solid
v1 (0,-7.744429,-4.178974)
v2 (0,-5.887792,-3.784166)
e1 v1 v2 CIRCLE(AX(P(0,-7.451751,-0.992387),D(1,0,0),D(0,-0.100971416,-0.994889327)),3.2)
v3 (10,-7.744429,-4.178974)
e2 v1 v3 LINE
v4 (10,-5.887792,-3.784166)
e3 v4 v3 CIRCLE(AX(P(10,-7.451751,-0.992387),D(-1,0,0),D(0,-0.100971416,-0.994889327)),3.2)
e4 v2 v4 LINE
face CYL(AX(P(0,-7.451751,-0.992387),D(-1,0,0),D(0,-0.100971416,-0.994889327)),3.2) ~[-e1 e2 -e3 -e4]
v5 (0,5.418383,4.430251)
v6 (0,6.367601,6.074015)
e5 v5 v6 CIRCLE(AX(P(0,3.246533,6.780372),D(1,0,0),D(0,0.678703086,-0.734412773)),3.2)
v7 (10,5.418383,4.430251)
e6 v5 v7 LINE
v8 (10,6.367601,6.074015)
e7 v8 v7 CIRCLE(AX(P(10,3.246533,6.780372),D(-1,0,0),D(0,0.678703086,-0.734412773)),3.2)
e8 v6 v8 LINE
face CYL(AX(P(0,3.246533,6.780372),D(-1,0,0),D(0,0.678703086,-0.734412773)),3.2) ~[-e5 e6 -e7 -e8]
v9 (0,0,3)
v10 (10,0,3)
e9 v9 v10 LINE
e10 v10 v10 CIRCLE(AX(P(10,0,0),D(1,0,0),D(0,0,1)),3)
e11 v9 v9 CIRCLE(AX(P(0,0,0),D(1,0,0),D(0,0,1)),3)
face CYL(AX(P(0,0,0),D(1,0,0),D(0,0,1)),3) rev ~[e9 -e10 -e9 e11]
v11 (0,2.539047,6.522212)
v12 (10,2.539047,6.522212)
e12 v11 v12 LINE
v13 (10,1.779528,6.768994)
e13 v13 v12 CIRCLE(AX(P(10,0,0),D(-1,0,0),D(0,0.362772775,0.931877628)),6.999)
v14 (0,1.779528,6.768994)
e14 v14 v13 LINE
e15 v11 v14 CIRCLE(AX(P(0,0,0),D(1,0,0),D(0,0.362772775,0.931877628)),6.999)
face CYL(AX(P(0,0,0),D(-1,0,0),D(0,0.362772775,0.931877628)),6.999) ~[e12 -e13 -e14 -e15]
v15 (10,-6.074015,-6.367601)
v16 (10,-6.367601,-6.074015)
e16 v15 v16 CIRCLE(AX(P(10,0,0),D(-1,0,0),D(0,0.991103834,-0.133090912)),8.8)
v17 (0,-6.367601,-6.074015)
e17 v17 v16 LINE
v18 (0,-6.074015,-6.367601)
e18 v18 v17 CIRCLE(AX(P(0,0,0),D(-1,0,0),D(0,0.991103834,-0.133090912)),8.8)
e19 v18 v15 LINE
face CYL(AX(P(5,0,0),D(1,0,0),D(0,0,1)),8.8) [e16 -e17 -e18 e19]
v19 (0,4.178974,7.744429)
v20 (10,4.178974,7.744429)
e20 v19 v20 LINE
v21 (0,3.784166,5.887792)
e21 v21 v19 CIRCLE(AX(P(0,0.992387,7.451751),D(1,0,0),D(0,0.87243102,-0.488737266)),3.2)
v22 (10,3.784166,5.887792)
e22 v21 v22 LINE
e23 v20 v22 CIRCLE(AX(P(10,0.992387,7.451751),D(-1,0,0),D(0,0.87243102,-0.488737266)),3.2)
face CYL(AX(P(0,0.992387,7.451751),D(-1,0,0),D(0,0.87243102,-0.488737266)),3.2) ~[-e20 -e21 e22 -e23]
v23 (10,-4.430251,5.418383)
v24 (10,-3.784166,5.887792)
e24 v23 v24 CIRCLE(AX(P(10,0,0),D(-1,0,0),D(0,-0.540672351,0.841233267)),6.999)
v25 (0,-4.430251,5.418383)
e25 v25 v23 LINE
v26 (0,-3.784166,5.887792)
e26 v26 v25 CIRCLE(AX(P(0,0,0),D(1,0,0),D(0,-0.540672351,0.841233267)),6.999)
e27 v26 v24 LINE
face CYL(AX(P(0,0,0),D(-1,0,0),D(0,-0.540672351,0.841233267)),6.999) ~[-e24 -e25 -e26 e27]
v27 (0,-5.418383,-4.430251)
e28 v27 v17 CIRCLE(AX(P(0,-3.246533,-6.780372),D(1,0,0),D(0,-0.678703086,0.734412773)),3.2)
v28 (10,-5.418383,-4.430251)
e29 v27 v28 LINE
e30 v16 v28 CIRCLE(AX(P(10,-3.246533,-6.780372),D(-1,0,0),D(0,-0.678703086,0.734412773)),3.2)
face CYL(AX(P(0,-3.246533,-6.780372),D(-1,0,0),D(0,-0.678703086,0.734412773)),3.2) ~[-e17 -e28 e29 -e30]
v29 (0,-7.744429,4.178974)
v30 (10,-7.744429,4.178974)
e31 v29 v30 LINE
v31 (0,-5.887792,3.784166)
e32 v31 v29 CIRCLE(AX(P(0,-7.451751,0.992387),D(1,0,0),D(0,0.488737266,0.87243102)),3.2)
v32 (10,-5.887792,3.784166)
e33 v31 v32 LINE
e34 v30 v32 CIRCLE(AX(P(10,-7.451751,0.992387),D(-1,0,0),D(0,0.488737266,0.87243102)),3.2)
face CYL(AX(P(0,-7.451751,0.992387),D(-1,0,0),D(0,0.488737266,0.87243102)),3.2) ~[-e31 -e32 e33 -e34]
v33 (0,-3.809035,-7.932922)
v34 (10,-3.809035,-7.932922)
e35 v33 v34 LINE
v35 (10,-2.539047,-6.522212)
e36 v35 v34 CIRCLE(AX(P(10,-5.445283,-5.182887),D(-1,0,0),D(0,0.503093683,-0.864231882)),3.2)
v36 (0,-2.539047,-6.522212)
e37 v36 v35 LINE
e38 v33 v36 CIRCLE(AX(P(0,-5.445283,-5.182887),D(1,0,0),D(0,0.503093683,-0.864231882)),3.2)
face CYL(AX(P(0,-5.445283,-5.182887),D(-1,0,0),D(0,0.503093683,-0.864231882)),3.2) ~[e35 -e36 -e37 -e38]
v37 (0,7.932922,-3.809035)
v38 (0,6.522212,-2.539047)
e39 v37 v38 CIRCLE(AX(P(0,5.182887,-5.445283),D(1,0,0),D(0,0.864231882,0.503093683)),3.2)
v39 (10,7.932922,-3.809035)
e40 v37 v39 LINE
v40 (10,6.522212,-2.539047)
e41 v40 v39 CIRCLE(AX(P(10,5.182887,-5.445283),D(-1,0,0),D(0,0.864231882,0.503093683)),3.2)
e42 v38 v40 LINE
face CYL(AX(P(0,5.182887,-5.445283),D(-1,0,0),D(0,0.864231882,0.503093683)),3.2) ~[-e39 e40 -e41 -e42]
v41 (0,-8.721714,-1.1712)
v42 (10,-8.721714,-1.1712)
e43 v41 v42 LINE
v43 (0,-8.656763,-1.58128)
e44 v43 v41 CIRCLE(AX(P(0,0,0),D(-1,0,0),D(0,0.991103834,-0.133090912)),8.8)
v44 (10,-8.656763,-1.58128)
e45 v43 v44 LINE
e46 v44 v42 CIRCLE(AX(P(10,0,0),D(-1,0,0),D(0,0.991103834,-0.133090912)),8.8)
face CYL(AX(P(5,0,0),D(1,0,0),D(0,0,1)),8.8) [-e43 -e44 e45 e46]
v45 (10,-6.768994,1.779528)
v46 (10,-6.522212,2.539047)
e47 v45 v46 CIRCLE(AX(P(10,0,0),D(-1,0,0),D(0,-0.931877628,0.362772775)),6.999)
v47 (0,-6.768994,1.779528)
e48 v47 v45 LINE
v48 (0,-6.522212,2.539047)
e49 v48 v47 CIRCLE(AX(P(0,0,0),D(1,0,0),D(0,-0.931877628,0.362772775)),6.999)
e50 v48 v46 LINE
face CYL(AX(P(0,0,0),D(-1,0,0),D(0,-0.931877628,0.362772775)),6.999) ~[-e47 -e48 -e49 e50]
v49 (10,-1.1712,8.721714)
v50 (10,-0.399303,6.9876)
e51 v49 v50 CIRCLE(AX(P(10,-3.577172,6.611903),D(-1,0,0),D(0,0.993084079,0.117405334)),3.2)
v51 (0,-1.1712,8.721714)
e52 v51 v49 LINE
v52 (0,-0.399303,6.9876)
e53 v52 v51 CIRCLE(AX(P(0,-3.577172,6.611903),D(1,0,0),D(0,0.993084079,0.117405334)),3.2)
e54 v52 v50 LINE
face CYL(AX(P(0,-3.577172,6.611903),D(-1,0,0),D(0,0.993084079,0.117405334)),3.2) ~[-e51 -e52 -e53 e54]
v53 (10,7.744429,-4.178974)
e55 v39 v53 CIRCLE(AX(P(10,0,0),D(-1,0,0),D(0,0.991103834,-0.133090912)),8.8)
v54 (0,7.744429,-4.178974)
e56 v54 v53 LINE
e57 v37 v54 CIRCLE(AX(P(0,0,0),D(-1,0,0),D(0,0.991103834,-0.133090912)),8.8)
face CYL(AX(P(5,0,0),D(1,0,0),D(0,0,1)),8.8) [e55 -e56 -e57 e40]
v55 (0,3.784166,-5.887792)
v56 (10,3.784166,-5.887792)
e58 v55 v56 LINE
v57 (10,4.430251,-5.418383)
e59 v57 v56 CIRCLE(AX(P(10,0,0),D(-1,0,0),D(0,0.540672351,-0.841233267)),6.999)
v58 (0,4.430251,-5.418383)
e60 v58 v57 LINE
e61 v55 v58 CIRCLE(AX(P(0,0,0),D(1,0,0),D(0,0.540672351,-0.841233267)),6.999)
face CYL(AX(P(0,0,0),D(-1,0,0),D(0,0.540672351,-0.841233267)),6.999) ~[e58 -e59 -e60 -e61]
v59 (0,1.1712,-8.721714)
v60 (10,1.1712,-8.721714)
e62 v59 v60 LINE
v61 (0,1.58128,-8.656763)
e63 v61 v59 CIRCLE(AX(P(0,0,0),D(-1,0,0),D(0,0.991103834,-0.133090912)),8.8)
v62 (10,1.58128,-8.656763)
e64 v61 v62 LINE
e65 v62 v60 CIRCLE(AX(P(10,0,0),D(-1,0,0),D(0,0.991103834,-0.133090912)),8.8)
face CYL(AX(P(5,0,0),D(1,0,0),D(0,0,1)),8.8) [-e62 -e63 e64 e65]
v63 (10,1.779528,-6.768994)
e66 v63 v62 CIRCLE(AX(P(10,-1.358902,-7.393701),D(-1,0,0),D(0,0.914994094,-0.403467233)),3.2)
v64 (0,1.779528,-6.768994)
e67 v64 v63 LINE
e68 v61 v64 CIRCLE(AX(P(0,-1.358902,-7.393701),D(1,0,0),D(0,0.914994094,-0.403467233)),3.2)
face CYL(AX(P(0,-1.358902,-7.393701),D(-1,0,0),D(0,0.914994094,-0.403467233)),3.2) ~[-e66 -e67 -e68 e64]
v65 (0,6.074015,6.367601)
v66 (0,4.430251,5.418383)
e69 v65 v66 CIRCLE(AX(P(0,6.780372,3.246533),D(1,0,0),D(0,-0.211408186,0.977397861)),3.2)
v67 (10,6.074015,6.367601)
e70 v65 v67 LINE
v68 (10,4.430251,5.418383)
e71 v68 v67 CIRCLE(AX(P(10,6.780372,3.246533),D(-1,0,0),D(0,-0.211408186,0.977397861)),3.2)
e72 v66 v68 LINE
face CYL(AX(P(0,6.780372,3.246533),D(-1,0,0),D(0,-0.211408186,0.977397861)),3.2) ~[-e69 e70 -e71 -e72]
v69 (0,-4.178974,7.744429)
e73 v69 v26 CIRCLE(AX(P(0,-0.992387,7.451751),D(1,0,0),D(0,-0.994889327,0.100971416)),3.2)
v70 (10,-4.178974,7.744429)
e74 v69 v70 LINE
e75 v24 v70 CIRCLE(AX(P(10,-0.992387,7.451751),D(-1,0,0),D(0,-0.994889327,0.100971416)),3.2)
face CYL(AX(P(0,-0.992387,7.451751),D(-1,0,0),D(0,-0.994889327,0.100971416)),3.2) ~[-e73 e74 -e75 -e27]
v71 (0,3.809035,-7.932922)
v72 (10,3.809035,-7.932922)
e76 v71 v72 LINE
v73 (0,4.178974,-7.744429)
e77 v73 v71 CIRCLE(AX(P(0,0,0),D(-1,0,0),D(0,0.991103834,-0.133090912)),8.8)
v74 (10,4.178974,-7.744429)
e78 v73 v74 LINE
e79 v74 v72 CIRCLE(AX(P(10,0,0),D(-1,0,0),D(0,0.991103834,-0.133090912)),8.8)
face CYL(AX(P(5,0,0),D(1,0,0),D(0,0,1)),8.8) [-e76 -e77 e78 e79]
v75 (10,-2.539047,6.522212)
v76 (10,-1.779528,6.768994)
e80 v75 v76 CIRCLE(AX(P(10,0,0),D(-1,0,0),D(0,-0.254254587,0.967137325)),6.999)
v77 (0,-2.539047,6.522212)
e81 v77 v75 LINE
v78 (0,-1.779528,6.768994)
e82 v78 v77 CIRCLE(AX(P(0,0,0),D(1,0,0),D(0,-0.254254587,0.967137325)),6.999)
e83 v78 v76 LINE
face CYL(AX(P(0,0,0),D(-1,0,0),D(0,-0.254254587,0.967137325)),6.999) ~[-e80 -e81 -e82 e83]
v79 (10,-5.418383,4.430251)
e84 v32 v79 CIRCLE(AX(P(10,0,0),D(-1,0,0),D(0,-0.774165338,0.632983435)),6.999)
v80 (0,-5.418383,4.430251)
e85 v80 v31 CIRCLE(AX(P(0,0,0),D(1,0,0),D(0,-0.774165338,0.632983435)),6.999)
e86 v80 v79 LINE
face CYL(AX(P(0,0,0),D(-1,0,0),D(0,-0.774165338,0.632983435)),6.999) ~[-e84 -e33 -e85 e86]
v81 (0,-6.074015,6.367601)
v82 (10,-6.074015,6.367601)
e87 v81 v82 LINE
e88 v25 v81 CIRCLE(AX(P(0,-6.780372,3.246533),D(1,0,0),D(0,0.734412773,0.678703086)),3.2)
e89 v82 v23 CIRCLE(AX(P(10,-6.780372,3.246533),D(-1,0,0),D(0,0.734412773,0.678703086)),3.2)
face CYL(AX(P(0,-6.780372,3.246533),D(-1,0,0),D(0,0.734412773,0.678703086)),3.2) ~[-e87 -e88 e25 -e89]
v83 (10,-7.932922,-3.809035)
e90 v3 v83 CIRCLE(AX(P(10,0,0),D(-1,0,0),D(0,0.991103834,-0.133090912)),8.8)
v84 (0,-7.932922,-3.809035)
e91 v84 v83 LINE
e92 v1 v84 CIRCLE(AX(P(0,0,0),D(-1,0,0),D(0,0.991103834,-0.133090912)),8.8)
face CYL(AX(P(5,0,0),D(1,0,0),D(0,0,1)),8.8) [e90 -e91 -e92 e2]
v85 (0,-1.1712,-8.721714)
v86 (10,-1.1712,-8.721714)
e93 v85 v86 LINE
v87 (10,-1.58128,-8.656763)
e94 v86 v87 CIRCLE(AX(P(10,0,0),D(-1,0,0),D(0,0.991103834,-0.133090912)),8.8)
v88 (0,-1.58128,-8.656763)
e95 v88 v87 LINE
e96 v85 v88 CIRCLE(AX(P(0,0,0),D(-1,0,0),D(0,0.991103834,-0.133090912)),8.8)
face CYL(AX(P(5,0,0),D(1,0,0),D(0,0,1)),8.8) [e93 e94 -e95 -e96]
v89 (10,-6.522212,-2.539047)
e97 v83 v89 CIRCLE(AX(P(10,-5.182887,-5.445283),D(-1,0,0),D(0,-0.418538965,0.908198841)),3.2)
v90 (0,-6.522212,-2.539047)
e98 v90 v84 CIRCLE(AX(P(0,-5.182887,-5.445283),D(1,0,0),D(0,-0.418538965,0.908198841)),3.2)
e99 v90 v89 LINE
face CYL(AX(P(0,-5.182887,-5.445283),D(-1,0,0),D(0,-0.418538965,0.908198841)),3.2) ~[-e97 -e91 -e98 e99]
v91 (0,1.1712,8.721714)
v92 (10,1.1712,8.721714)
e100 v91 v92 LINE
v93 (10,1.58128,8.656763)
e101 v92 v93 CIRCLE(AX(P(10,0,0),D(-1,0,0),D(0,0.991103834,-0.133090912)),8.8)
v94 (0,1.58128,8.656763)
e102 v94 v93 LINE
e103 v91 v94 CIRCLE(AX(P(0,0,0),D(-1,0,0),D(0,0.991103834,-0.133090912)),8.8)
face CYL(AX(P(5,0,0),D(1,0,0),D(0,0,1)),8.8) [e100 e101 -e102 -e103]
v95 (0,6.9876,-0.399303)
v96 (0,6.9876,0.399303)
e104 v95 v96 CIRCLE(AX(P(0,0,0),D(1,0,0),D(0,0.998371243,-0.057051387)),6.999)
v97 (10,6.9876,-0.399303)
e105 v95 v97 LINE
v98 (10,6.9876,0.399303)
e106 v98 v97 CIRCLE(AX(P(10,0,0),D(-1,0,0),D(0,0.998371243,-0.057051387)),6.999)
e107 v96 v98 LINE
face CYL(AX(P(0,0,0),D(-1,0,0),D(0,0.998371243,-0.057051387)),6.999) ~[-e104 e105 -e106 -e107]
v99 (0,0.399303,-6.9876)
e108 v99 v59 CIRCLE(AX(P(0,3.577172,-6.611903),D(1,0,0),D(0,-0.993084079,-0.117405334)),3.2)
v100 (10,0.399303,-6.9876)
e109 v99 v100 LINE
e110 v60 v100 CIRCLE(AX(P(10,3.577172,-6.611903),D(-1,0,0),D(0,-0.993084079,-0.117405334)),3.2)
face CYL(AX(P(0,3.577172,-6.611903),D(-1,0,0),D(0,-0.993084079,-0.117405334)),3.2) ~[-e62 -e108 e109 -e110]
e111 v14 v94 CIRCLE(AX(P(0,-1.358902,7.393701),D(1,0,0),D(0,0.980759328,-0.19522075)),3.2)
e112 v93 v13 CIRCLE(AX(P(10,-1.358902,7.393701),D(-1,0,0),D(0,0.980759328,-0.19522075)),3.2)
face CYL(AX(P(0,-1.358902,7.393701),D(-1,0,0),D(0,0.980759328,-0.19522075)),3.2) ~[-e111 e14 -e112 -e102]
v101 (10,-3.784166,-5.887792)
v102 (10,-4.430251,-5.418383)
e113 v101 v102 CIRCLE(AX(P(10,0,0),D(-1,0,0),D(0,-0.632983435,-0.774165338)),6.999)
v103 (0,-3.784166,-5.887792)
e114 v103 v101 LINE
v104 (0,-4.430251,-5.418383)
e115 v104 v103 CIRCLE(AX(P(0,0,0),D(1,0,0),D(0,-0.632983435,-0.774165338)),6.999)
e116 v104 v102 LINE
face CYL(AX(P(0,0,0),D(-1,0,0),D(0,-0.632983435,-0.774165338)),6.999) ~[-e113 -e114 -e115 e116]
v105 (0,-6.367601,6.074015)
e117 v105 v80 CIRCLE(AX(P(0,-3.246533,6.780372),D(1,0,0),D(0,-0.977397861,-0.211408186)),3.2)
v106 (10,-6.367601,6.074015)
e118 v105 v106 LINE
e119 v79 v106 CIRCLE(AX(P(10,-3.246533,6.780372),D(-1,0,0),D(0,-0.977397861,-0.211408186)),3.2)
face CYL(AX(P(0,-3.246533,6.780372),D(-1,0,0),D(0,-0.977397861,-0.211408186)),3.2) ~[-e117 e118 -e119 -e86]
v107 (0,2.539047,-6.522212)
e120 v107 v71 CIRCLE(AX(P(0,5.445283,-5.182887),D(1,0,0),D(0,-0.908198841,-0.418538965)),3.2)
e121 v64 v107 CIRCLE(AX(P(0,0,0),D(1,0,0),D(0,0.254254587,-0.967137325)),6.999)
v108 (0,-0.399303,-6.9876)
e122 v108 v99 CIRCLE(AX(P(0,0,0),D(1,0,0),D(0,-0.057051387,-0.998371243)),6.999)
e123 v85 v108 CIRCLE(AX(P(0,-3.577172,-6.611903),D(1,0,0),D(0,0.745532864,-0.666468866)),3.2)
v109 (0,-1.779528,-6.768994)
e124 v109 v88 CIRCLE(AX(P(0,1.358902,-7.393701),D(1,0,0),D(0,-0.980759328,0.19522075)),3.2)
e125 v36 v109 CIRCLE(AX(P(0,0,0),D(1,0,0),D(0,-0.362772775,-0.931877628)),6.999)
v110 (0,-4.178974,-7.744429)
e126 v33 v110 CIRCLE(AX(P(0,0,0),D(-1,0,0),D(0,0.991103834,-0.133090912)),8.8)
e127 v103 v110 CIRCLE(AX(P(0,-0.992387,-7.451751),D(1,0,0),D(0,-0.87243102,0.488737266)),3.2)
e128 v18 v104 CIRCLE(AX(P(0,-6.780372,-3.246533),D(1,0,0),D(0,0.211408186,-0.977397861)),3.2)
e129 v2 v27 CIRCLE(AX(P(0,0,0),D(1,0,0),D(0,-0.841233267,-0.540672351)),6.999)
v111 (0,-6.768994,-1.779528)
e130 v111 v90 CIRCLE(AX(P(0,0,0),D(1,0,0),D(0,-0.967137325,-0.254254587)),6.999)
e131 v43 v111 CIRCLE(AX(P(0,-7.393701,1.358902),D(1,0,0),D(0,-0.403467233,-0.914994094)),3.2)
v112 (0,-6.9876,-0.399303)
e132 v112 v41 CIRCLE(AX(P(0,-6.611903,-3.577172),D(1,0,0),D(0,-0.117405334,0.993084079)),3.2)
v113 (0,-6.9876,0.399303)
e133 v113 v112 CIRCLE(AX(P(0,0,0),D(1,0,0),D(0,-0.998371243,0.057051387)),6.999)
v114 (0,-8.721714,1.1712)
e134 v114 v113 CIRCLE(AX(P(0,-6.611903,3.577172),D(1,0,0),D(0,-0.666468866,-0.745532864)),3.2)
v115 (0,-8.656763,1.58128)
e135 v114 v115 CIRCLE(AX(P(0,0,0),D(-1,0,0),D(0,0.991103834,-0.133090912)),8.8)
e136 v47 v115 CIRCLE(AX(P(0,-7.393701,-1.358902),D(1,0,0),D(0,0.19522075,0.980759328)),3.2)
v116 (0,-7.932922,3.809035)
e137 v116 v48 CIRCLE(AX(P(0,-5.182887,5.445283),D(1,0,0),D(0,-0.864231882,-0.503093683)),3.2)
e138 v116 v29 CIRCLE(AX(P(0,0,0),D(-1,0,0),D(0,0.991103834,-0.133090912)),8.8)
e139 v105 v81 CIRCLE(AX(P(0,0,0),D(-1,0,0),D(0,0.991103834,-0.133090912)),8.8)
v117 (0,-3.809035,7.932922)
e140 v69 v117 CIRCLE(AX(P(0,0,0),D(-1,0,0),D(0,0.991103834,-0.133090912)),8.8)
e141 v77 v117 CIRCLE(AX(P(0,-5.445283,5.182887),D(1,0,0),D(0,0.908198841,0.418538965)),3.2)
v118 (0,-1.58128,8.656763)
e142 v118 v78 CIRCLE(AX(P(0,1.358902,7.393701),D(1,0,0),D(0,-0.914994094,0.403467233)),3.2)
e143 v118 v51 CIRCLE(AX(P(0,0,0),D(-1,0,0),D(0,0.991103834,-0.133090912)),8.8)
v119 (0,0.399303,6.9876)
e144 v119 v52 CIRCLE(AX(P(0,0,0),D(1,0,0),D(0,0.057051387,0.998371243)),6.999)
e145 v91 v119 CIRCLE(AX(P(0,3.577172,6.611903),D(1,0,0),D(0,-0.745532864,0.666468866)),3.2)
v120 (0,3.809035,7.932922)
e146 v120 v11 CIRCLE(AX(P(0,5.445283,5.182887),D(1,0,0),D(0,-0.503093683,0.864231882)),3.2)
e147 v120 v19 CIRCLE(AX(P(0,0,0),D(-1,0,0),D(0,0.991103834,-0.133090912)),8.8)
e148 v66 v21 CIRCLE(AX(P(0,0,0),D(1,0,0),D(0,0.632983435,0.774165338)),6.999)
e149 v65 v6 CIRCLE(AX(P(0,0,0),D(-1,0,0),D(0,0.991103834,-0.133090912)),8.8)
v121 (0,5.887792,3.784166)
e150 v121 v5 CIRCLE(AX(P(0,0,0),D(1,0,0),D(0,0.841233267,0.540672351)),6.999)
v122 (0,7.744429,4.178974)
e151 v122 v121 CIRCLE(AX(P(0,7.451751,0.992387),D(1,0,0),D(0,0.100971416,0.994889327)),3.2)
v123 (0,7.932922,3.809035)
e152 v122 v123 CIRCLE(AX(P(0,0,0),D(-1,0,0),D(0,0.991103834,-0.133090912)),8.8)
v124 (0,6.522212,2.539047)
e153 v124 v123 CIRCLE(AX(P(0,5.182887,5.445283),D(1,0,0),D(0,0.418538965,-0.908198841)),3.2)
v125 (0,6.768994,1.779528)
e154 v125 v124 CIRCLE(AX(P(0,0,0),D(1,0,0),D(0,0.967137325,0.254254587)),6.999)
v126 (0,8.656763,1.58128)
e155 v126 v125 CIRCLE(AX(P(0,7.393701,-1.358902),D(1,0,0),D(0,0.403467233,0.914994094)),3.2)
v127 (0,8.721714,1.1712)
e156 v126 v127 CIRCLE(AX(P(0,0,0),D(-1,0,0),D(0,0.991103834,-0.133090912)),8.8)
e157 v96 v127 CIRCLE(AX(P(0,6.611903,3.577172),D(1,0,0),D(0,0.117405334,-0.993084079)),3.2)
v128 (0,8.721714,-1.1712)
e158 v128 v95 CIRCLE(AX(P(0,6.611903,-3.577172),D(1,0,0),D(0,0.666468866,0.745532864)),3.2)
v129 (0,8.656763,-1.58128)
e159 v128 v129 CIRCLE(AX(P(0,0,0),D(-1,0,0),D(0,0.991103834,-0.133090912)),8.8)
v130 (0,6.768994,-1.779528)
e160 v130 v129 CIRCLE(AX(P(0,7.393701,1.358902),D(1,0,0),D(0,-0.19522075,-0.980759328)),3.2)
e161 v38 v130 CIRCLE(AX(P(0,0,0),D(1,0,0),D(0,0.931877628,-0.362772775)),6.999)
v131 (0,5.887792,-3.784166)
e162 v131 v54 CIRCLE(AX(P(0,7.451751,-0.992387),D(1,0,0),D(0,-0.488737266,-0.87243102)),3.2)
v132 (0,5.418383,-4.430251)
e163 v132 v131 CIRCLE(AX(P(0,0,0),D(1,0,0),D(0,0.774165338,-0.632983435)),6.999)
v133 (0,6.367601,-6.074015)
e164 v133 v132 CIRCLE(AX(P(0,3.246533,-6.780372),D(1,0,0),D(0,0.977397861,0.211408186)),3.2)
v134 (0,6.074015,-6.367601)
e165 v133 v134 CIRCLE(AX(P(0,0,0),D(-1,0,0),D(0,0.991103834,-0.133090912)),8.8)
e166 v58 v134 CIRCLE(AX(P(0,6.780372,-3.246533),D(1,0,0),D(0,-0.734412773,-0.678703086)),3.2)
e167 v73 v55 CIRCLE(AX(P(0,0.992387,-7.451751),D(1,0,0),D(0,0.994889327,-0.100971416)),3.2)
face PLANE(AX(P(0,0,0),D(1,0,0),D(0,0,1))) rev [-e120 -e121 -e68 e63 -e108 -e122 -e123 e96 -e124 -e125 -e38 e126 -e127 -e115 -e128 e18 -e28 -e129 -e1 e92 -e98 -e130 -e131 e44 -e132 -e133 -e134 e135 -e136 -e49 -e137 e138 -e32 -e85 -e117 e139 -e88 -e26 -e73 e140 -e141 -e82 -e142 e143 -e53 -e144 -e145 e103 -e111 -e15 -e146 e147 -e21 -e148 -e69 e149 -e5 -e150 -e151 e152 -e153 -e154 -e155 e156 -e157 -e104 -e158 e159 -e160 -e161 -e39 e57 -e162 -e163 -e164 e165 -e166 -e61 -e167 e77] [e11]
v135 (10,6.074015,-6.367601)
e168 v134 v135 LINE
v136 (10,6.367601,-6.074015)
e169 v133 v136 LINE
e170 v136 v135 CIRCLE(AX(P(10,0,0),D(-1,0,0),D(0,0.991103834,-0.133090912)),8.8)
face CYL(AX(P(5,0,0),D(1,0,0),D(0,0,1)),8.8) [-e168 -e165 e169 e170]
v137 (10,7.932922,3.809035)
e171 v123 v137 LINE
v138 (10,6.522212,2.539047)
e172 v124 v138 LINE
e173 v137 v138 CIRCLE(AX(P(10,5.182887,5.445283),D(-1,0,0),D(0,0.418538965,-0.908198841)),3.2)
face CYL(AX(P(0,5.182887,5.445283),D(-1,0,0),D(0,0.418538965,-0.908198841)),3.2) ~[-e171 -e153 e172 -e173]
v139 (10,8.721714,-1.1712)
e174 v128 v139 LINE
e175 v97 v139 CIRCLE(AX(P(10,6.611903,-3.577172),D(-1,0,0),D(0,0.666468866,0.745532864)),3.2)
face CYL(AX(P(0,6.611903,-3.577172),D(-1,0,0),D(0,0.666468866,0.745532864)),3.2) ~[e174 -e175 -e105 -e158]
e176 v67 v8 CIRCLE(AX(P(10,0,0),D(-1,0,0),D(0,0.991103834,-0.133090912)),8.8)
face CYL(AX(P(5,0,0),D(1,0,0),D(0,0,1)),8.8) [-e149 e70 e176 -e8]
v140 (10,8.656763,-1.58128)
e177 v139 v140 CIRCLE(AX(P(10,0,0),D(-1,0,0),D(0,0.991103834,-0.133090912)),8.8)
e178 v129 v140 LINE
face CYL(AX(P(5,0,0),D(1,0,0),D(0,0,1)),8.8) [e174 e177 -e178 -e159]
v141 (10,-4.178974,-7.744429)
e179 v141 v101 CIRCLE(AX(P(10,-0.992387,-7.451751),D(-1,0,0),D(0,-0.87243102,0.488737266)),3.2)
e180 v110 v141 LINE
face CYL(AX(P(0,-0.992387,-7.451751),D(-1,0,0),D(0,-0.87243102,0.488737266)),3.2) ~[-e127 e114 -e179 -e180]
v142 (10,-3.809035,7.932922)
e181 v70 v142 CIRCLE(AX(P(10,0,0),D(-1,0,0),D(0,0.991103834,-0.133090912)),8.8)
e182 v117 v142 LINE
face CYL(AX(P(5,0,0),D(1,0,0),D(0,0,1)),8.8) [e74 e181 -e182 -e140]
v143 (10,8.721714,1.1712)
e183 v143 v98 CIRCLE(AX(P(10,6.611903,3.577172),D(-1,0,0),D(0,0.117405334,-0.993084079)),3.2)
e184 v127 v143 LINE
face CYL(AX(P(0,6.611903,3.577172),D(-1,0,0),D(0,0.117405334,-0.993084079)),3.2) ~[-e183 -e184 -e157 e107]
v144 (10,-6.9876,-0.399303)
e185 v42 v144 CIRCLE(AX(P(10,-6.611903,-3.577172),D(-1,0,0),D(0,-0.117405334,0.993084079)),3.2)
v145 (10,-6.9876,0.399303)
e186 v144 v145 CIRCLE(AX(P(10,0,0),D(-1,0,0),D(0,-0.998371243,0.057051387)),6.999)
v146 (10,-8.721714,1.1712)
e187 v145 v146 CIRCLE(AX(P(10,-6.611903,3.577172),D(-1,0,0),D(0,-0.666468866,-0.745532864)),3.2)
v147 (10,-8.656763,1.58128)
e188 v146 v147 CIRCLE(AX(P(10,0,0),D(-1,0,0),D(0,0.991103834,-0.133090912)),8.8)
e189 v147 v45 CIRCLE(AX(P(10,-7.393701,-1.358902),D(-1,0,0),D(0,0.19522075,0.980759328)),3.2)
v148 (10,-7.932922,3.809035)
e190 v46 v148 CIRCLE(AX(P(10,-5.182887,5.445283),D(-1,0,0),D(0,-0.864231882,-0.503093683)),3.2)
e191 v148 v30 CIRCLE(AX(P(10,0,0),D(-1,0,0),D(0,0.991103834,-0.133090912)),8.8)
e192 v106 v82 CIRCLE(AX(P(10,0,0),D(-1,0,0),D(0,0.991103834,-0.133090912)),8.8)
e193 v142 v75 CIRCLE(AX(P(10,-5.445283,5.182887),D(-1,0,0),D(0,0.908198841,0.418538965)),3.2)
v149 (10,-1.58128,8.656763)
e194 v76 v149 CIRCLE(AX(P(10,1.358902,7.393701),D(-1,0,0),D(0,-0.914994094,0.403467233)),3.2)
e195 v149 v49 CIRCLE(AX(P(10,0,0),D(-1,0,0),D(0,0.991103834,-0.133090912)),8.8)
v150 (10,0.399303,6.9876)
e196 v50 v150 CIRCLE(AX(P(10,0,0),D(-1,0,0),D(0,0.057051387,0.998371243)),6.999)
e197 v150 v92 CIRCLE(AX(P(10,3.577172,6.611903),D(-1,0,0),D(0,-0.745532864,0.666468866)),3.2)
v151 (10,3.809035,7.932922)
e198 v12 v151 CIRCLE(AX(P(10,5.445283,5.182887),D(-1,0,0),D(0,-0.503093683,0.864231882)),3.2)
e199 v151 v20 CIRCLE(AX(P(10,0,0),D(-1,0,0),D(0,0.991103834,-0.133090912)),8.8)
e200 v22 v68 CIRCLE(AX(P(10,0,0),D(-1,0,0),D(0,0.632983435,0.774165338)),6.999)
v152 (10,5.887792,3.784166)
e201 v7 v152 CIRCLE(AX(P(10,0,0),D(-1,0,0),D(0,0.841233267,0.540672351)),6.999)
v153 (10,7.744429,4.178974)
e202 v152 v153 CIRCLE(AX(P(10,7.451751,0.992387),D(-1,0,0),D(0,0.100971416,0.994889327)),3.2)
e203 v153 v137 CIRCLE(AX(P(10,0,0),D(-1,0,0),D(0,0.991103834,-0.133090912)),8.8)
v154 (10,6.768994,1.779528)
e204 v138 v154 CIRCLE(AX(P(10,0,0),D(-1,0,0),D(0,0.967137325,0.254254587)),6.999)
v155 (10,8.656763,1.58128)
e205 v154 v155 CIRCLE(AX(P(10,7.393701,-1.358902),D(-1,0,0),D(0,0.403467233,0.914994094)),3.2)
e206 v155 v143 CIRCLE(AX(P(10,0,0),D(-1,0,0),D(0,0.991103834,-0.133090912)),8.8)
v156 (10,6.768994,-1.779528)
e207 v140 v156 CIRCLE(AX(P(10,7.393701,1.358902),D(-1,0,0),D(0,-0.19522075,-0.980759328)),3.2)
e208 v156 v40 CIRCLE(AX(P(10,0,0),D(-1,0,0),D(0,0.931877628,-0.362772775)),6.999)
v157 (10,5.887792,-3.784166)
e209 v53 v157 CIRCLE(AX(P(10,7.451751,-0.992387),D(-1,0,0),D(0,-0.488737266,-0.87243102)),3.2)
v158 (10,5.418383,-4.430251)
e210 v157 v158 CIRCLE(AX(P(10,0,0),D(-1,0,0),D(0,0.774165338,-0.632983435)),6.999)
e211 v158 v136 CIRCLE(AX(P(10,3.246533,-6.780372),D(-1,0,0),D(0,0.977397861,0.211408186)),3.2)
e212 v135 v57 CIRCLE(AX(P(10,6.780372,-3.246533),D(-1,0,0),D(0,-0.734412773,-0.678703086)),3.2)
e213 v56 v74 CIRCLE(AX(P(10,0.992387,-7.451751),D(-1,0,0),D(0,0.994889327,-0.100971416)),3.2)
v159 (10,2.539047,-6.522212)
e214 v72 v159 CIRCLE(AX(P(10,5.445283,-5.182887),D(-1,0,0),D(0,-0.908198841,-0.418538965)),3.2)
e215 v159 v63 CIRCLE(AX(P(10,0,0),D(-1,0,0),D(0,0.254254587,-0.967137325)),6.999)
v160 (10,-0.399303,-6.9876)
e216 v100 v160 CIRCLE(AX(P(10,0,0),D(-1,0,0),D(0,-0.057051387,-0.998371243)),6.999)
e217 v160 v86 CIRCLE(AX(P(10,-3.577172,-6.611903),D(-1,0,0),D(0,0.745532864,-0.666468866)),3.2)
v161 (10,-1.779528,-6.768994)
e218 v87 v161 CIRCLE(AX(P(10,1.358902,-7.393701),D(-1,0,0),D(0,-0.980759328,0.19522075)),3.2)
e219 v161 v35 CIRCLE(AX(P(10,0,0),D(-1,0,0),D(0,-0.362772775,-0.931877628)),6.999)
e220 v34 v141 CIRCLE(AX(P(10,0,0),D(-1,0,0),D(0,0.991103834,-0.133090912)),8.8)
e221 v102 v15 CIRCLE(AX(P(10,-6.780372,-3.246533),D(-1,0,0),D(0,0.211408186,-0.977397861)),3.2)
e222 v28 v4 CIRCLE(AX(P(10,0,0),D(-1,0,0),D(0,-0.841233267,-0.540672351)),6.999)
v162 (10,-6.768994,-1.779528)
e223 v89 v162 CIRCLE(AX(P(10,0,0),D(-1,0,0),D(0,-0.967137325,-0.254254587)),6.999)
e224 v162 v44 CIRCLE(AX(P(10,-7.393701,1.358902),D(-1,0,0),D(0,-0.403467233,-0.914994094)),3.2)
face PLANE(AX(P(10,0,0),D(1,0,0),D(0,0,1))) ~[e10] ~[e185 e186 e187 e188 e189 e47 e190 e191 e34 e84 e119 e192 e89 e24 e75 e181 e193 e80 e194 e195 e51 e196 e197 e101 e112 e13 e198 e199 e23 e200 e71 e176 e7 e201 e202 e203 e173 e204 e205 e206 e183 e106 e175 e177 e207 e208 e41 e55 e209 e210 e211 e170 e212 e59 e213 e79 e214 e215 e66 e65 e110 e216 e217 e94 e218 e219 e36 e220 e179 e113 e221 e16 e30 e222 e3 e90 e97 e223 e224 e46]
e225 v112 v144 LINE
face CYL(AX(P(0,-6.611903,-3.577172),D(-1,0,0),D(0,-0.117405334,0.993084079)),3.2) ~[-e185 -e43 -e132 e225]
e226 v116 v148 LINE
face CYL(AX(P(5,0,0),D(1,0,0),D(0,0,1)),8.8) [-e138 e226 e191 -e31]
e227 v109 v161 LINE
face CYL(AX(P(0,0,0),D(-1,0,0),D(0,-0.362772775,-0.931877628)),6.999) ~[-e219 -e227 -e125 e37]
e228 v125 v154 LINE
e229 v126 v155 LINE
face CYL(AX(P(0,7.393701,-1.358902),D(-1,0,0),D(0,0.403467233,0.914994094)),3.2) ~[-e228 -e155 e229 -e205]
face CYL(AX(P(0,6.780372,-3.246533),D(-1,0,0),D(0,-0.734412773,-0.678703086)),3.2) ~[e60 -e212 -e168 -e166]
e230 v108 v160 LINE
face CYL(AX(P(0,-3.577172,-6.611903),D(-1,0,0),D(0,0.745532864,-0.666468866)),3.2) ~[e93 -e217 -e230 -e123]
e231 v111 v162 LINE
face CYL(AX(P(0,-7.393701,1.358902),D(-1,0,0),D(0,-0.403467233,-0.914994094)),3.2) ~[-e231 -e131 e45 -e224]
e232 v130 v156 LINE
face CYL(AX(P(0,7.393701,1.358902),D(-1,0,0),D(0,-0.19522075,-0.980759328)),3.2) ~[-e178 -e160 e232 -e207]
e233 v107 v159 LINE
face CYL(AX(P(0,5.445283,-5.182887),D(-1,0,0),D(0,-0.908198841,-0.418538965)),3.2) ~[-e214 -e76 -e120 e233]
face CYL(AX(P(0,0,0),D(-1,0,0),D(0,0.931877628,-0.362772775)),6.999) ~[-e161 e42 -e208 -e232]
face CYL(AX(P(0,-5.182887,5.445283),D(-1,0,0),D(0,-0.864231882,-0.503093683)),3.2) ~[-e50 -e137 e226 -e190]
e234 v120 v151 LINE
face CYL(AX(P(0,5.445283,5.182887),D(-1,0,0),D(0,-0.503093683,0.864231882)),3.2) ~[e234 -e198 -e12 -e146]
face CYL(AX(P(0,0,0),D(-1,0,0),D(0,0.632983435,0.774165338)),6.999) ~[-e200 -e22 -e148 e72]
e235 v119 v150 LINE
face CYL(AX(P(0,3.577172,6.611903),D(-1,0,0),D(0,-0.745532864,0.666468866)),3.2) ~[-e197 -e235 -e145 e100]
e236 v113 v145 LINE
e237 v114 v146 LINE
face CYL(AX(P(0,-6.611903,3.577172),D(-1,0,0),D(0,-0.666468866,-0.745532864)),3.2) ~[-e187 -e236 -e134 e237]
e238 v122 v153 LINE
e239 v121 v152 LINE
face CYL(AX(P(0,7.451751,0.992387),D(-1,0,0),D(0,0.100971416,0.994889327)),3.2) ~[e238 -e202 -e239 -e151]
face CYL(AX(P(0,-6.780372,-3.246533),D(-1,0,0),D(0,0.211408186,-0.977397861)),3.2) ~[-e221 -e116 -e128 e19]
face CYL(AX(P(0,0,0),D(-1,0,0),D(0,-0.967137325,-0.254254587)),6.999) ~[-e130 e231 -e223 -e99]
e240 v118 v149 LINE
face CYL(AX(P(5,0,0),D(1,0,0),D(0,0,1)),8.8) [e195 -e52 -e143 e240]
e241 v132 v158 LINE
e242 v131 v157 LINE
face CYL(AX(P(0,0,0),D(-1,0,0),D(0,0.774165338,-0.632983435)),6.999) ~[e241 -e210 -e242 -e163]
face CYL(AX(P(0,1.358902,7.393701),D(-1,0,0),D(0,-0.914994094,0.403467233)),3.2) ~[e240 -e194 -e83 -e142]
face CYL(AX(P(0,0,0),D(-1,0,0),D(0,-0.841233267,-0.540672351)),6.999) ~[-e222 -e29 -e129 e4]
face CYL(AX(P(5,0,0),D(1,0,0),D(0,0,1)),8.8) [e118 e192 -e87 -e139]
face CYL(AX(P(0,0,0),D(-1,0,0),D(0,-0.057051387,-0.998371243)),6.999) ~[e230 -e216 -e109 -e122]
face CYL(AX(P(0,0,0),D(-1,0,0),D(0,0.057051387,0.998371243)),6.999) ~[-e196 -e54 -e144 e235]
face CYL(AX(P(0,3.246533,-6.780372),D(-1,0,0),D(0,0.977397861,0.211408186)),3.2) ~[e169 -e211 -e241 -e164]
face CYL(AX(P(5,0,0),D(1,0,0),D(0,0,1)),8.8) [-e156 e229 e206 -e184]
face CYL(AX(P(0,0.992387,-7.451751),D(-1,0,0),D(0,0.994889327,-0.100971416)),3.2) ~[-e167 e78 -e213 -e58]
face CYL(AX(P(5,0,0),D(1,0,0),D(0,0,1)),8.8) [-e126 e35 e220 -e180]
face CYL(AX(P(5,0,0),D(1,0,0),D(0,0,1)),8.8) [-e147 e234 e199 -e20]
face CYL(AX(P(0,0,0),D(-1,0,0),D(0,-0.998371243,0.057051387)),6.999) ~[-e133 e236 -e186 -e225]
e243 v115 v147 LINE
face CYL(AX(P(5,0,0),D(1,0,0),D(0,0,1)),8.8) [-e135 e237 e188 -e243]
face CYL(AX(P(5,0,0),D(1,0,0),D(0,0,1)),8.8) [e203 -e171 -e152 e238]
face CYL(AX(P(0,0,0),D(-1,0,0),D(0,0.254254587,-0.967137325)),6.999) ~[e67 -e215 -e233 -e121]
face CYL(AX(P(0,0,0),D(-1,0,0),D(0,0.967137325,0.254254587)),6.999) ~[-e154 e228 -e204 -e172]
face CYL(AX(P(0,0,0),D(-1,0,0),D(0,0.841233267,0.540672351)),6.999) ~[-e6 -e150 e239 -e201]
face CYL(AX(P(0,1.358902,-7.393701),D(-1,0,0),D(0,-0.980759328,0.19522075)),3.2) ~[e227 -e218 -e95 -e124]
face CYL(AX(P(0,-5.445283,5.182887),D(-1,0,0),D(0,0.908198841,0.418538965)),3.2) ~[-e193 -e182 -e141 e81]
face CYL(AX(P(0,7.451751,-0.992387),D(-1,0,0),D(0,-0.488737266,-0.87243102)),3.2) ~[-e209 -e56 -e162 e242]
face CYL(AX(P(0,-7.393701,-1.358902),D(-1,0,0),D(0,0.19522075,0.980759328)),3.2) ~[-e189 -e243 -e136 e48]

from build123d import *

# Parameters (mm, degrees)
BASPROSKE_W     = 10
BASPROSKE_H     = 8.8
TOOTHCUT_DEPTH  = 16.964961635
TEETHCUTS_COUNT = 20
TEETHCUTS_ANGLE = 342
BORSKE_R        = 3
BORE_DEPTH      = 50.0000508


with BuildPart() as part:
    # BasProSke → Base-Revolve (revolve)
    with BuildSketch(Plane(origin=(0, 0, 0), x_dir=(1, 0, 0), z_dir=(0, 1, 0)), mode=Mode.PRIVATE) as base_revolve_sk:
        with Locations((5, 4.4)):
            Rectangle(BASPROSKE_W, BASPROSKE_H)
    revolve(base_revolve_sk.sketch.rotate(Axis((-10, 0, 0), (1, 0, 0)), 180), axis=Axis((-10, 0, 0), (1, 0, 0)))

    # TooCutSke → ToothCut (cut, through all)
    with BuildSketch(Plane(origin=(0, 0, 0), x_dir=(0, 0, -1), z_dir=(1, 0, 0))):
        with BuildLine():
            ThreePointArc((0.39930266, 6.987600331), (0, 6.999), (-0.39930266, 6.987600331))
            ThreePointArc((-0.39930266, 6.987600331), (-0.659963343, 7.927158116), (-1.191466546, 8.744603629))
            ThreePointArc((-1.191466546, 8.744603629), (0, 8.8254), (1.191466546, 8.744603629))
            ThreePointArc((1.191466546, 8.744603629), (0.659963343, 7.927158116), (0.39930266, 6.987600331))
        make_face()
    toothcut = extrude(amount=TOOTHCUT_DEPTH, mode=Mode.SUBTRACT)

    # TeethCuts: ToothCut ×20 about axis
    teethcuts_axis = Axis((-10, 0, 0), (1, 0, 0))
    for i in range(1, TEETHCUTS_COUNT):
        add(toothcut.rotate(teethcuts_axis, i * TEETHCUTS_ANGLE / (TEETHCUTS_COUNT - 1)), mode=Mode.SUBTRACT)

    # BorSke → Bore (cut, symmetric)
    with BuildSketch(Plane(origin=(0, 0, 0), x_dir=(0, 0, -1), z_dir=(1, 0, 0))):
        with Locations(Location((0, 0, 0), (0, 0, 180))):
            Circle(BORSKE_R)
    extrude(amount=BORE_DEPTH, both=True, mode=Mode.SUBTRACT)


solid = part.part
